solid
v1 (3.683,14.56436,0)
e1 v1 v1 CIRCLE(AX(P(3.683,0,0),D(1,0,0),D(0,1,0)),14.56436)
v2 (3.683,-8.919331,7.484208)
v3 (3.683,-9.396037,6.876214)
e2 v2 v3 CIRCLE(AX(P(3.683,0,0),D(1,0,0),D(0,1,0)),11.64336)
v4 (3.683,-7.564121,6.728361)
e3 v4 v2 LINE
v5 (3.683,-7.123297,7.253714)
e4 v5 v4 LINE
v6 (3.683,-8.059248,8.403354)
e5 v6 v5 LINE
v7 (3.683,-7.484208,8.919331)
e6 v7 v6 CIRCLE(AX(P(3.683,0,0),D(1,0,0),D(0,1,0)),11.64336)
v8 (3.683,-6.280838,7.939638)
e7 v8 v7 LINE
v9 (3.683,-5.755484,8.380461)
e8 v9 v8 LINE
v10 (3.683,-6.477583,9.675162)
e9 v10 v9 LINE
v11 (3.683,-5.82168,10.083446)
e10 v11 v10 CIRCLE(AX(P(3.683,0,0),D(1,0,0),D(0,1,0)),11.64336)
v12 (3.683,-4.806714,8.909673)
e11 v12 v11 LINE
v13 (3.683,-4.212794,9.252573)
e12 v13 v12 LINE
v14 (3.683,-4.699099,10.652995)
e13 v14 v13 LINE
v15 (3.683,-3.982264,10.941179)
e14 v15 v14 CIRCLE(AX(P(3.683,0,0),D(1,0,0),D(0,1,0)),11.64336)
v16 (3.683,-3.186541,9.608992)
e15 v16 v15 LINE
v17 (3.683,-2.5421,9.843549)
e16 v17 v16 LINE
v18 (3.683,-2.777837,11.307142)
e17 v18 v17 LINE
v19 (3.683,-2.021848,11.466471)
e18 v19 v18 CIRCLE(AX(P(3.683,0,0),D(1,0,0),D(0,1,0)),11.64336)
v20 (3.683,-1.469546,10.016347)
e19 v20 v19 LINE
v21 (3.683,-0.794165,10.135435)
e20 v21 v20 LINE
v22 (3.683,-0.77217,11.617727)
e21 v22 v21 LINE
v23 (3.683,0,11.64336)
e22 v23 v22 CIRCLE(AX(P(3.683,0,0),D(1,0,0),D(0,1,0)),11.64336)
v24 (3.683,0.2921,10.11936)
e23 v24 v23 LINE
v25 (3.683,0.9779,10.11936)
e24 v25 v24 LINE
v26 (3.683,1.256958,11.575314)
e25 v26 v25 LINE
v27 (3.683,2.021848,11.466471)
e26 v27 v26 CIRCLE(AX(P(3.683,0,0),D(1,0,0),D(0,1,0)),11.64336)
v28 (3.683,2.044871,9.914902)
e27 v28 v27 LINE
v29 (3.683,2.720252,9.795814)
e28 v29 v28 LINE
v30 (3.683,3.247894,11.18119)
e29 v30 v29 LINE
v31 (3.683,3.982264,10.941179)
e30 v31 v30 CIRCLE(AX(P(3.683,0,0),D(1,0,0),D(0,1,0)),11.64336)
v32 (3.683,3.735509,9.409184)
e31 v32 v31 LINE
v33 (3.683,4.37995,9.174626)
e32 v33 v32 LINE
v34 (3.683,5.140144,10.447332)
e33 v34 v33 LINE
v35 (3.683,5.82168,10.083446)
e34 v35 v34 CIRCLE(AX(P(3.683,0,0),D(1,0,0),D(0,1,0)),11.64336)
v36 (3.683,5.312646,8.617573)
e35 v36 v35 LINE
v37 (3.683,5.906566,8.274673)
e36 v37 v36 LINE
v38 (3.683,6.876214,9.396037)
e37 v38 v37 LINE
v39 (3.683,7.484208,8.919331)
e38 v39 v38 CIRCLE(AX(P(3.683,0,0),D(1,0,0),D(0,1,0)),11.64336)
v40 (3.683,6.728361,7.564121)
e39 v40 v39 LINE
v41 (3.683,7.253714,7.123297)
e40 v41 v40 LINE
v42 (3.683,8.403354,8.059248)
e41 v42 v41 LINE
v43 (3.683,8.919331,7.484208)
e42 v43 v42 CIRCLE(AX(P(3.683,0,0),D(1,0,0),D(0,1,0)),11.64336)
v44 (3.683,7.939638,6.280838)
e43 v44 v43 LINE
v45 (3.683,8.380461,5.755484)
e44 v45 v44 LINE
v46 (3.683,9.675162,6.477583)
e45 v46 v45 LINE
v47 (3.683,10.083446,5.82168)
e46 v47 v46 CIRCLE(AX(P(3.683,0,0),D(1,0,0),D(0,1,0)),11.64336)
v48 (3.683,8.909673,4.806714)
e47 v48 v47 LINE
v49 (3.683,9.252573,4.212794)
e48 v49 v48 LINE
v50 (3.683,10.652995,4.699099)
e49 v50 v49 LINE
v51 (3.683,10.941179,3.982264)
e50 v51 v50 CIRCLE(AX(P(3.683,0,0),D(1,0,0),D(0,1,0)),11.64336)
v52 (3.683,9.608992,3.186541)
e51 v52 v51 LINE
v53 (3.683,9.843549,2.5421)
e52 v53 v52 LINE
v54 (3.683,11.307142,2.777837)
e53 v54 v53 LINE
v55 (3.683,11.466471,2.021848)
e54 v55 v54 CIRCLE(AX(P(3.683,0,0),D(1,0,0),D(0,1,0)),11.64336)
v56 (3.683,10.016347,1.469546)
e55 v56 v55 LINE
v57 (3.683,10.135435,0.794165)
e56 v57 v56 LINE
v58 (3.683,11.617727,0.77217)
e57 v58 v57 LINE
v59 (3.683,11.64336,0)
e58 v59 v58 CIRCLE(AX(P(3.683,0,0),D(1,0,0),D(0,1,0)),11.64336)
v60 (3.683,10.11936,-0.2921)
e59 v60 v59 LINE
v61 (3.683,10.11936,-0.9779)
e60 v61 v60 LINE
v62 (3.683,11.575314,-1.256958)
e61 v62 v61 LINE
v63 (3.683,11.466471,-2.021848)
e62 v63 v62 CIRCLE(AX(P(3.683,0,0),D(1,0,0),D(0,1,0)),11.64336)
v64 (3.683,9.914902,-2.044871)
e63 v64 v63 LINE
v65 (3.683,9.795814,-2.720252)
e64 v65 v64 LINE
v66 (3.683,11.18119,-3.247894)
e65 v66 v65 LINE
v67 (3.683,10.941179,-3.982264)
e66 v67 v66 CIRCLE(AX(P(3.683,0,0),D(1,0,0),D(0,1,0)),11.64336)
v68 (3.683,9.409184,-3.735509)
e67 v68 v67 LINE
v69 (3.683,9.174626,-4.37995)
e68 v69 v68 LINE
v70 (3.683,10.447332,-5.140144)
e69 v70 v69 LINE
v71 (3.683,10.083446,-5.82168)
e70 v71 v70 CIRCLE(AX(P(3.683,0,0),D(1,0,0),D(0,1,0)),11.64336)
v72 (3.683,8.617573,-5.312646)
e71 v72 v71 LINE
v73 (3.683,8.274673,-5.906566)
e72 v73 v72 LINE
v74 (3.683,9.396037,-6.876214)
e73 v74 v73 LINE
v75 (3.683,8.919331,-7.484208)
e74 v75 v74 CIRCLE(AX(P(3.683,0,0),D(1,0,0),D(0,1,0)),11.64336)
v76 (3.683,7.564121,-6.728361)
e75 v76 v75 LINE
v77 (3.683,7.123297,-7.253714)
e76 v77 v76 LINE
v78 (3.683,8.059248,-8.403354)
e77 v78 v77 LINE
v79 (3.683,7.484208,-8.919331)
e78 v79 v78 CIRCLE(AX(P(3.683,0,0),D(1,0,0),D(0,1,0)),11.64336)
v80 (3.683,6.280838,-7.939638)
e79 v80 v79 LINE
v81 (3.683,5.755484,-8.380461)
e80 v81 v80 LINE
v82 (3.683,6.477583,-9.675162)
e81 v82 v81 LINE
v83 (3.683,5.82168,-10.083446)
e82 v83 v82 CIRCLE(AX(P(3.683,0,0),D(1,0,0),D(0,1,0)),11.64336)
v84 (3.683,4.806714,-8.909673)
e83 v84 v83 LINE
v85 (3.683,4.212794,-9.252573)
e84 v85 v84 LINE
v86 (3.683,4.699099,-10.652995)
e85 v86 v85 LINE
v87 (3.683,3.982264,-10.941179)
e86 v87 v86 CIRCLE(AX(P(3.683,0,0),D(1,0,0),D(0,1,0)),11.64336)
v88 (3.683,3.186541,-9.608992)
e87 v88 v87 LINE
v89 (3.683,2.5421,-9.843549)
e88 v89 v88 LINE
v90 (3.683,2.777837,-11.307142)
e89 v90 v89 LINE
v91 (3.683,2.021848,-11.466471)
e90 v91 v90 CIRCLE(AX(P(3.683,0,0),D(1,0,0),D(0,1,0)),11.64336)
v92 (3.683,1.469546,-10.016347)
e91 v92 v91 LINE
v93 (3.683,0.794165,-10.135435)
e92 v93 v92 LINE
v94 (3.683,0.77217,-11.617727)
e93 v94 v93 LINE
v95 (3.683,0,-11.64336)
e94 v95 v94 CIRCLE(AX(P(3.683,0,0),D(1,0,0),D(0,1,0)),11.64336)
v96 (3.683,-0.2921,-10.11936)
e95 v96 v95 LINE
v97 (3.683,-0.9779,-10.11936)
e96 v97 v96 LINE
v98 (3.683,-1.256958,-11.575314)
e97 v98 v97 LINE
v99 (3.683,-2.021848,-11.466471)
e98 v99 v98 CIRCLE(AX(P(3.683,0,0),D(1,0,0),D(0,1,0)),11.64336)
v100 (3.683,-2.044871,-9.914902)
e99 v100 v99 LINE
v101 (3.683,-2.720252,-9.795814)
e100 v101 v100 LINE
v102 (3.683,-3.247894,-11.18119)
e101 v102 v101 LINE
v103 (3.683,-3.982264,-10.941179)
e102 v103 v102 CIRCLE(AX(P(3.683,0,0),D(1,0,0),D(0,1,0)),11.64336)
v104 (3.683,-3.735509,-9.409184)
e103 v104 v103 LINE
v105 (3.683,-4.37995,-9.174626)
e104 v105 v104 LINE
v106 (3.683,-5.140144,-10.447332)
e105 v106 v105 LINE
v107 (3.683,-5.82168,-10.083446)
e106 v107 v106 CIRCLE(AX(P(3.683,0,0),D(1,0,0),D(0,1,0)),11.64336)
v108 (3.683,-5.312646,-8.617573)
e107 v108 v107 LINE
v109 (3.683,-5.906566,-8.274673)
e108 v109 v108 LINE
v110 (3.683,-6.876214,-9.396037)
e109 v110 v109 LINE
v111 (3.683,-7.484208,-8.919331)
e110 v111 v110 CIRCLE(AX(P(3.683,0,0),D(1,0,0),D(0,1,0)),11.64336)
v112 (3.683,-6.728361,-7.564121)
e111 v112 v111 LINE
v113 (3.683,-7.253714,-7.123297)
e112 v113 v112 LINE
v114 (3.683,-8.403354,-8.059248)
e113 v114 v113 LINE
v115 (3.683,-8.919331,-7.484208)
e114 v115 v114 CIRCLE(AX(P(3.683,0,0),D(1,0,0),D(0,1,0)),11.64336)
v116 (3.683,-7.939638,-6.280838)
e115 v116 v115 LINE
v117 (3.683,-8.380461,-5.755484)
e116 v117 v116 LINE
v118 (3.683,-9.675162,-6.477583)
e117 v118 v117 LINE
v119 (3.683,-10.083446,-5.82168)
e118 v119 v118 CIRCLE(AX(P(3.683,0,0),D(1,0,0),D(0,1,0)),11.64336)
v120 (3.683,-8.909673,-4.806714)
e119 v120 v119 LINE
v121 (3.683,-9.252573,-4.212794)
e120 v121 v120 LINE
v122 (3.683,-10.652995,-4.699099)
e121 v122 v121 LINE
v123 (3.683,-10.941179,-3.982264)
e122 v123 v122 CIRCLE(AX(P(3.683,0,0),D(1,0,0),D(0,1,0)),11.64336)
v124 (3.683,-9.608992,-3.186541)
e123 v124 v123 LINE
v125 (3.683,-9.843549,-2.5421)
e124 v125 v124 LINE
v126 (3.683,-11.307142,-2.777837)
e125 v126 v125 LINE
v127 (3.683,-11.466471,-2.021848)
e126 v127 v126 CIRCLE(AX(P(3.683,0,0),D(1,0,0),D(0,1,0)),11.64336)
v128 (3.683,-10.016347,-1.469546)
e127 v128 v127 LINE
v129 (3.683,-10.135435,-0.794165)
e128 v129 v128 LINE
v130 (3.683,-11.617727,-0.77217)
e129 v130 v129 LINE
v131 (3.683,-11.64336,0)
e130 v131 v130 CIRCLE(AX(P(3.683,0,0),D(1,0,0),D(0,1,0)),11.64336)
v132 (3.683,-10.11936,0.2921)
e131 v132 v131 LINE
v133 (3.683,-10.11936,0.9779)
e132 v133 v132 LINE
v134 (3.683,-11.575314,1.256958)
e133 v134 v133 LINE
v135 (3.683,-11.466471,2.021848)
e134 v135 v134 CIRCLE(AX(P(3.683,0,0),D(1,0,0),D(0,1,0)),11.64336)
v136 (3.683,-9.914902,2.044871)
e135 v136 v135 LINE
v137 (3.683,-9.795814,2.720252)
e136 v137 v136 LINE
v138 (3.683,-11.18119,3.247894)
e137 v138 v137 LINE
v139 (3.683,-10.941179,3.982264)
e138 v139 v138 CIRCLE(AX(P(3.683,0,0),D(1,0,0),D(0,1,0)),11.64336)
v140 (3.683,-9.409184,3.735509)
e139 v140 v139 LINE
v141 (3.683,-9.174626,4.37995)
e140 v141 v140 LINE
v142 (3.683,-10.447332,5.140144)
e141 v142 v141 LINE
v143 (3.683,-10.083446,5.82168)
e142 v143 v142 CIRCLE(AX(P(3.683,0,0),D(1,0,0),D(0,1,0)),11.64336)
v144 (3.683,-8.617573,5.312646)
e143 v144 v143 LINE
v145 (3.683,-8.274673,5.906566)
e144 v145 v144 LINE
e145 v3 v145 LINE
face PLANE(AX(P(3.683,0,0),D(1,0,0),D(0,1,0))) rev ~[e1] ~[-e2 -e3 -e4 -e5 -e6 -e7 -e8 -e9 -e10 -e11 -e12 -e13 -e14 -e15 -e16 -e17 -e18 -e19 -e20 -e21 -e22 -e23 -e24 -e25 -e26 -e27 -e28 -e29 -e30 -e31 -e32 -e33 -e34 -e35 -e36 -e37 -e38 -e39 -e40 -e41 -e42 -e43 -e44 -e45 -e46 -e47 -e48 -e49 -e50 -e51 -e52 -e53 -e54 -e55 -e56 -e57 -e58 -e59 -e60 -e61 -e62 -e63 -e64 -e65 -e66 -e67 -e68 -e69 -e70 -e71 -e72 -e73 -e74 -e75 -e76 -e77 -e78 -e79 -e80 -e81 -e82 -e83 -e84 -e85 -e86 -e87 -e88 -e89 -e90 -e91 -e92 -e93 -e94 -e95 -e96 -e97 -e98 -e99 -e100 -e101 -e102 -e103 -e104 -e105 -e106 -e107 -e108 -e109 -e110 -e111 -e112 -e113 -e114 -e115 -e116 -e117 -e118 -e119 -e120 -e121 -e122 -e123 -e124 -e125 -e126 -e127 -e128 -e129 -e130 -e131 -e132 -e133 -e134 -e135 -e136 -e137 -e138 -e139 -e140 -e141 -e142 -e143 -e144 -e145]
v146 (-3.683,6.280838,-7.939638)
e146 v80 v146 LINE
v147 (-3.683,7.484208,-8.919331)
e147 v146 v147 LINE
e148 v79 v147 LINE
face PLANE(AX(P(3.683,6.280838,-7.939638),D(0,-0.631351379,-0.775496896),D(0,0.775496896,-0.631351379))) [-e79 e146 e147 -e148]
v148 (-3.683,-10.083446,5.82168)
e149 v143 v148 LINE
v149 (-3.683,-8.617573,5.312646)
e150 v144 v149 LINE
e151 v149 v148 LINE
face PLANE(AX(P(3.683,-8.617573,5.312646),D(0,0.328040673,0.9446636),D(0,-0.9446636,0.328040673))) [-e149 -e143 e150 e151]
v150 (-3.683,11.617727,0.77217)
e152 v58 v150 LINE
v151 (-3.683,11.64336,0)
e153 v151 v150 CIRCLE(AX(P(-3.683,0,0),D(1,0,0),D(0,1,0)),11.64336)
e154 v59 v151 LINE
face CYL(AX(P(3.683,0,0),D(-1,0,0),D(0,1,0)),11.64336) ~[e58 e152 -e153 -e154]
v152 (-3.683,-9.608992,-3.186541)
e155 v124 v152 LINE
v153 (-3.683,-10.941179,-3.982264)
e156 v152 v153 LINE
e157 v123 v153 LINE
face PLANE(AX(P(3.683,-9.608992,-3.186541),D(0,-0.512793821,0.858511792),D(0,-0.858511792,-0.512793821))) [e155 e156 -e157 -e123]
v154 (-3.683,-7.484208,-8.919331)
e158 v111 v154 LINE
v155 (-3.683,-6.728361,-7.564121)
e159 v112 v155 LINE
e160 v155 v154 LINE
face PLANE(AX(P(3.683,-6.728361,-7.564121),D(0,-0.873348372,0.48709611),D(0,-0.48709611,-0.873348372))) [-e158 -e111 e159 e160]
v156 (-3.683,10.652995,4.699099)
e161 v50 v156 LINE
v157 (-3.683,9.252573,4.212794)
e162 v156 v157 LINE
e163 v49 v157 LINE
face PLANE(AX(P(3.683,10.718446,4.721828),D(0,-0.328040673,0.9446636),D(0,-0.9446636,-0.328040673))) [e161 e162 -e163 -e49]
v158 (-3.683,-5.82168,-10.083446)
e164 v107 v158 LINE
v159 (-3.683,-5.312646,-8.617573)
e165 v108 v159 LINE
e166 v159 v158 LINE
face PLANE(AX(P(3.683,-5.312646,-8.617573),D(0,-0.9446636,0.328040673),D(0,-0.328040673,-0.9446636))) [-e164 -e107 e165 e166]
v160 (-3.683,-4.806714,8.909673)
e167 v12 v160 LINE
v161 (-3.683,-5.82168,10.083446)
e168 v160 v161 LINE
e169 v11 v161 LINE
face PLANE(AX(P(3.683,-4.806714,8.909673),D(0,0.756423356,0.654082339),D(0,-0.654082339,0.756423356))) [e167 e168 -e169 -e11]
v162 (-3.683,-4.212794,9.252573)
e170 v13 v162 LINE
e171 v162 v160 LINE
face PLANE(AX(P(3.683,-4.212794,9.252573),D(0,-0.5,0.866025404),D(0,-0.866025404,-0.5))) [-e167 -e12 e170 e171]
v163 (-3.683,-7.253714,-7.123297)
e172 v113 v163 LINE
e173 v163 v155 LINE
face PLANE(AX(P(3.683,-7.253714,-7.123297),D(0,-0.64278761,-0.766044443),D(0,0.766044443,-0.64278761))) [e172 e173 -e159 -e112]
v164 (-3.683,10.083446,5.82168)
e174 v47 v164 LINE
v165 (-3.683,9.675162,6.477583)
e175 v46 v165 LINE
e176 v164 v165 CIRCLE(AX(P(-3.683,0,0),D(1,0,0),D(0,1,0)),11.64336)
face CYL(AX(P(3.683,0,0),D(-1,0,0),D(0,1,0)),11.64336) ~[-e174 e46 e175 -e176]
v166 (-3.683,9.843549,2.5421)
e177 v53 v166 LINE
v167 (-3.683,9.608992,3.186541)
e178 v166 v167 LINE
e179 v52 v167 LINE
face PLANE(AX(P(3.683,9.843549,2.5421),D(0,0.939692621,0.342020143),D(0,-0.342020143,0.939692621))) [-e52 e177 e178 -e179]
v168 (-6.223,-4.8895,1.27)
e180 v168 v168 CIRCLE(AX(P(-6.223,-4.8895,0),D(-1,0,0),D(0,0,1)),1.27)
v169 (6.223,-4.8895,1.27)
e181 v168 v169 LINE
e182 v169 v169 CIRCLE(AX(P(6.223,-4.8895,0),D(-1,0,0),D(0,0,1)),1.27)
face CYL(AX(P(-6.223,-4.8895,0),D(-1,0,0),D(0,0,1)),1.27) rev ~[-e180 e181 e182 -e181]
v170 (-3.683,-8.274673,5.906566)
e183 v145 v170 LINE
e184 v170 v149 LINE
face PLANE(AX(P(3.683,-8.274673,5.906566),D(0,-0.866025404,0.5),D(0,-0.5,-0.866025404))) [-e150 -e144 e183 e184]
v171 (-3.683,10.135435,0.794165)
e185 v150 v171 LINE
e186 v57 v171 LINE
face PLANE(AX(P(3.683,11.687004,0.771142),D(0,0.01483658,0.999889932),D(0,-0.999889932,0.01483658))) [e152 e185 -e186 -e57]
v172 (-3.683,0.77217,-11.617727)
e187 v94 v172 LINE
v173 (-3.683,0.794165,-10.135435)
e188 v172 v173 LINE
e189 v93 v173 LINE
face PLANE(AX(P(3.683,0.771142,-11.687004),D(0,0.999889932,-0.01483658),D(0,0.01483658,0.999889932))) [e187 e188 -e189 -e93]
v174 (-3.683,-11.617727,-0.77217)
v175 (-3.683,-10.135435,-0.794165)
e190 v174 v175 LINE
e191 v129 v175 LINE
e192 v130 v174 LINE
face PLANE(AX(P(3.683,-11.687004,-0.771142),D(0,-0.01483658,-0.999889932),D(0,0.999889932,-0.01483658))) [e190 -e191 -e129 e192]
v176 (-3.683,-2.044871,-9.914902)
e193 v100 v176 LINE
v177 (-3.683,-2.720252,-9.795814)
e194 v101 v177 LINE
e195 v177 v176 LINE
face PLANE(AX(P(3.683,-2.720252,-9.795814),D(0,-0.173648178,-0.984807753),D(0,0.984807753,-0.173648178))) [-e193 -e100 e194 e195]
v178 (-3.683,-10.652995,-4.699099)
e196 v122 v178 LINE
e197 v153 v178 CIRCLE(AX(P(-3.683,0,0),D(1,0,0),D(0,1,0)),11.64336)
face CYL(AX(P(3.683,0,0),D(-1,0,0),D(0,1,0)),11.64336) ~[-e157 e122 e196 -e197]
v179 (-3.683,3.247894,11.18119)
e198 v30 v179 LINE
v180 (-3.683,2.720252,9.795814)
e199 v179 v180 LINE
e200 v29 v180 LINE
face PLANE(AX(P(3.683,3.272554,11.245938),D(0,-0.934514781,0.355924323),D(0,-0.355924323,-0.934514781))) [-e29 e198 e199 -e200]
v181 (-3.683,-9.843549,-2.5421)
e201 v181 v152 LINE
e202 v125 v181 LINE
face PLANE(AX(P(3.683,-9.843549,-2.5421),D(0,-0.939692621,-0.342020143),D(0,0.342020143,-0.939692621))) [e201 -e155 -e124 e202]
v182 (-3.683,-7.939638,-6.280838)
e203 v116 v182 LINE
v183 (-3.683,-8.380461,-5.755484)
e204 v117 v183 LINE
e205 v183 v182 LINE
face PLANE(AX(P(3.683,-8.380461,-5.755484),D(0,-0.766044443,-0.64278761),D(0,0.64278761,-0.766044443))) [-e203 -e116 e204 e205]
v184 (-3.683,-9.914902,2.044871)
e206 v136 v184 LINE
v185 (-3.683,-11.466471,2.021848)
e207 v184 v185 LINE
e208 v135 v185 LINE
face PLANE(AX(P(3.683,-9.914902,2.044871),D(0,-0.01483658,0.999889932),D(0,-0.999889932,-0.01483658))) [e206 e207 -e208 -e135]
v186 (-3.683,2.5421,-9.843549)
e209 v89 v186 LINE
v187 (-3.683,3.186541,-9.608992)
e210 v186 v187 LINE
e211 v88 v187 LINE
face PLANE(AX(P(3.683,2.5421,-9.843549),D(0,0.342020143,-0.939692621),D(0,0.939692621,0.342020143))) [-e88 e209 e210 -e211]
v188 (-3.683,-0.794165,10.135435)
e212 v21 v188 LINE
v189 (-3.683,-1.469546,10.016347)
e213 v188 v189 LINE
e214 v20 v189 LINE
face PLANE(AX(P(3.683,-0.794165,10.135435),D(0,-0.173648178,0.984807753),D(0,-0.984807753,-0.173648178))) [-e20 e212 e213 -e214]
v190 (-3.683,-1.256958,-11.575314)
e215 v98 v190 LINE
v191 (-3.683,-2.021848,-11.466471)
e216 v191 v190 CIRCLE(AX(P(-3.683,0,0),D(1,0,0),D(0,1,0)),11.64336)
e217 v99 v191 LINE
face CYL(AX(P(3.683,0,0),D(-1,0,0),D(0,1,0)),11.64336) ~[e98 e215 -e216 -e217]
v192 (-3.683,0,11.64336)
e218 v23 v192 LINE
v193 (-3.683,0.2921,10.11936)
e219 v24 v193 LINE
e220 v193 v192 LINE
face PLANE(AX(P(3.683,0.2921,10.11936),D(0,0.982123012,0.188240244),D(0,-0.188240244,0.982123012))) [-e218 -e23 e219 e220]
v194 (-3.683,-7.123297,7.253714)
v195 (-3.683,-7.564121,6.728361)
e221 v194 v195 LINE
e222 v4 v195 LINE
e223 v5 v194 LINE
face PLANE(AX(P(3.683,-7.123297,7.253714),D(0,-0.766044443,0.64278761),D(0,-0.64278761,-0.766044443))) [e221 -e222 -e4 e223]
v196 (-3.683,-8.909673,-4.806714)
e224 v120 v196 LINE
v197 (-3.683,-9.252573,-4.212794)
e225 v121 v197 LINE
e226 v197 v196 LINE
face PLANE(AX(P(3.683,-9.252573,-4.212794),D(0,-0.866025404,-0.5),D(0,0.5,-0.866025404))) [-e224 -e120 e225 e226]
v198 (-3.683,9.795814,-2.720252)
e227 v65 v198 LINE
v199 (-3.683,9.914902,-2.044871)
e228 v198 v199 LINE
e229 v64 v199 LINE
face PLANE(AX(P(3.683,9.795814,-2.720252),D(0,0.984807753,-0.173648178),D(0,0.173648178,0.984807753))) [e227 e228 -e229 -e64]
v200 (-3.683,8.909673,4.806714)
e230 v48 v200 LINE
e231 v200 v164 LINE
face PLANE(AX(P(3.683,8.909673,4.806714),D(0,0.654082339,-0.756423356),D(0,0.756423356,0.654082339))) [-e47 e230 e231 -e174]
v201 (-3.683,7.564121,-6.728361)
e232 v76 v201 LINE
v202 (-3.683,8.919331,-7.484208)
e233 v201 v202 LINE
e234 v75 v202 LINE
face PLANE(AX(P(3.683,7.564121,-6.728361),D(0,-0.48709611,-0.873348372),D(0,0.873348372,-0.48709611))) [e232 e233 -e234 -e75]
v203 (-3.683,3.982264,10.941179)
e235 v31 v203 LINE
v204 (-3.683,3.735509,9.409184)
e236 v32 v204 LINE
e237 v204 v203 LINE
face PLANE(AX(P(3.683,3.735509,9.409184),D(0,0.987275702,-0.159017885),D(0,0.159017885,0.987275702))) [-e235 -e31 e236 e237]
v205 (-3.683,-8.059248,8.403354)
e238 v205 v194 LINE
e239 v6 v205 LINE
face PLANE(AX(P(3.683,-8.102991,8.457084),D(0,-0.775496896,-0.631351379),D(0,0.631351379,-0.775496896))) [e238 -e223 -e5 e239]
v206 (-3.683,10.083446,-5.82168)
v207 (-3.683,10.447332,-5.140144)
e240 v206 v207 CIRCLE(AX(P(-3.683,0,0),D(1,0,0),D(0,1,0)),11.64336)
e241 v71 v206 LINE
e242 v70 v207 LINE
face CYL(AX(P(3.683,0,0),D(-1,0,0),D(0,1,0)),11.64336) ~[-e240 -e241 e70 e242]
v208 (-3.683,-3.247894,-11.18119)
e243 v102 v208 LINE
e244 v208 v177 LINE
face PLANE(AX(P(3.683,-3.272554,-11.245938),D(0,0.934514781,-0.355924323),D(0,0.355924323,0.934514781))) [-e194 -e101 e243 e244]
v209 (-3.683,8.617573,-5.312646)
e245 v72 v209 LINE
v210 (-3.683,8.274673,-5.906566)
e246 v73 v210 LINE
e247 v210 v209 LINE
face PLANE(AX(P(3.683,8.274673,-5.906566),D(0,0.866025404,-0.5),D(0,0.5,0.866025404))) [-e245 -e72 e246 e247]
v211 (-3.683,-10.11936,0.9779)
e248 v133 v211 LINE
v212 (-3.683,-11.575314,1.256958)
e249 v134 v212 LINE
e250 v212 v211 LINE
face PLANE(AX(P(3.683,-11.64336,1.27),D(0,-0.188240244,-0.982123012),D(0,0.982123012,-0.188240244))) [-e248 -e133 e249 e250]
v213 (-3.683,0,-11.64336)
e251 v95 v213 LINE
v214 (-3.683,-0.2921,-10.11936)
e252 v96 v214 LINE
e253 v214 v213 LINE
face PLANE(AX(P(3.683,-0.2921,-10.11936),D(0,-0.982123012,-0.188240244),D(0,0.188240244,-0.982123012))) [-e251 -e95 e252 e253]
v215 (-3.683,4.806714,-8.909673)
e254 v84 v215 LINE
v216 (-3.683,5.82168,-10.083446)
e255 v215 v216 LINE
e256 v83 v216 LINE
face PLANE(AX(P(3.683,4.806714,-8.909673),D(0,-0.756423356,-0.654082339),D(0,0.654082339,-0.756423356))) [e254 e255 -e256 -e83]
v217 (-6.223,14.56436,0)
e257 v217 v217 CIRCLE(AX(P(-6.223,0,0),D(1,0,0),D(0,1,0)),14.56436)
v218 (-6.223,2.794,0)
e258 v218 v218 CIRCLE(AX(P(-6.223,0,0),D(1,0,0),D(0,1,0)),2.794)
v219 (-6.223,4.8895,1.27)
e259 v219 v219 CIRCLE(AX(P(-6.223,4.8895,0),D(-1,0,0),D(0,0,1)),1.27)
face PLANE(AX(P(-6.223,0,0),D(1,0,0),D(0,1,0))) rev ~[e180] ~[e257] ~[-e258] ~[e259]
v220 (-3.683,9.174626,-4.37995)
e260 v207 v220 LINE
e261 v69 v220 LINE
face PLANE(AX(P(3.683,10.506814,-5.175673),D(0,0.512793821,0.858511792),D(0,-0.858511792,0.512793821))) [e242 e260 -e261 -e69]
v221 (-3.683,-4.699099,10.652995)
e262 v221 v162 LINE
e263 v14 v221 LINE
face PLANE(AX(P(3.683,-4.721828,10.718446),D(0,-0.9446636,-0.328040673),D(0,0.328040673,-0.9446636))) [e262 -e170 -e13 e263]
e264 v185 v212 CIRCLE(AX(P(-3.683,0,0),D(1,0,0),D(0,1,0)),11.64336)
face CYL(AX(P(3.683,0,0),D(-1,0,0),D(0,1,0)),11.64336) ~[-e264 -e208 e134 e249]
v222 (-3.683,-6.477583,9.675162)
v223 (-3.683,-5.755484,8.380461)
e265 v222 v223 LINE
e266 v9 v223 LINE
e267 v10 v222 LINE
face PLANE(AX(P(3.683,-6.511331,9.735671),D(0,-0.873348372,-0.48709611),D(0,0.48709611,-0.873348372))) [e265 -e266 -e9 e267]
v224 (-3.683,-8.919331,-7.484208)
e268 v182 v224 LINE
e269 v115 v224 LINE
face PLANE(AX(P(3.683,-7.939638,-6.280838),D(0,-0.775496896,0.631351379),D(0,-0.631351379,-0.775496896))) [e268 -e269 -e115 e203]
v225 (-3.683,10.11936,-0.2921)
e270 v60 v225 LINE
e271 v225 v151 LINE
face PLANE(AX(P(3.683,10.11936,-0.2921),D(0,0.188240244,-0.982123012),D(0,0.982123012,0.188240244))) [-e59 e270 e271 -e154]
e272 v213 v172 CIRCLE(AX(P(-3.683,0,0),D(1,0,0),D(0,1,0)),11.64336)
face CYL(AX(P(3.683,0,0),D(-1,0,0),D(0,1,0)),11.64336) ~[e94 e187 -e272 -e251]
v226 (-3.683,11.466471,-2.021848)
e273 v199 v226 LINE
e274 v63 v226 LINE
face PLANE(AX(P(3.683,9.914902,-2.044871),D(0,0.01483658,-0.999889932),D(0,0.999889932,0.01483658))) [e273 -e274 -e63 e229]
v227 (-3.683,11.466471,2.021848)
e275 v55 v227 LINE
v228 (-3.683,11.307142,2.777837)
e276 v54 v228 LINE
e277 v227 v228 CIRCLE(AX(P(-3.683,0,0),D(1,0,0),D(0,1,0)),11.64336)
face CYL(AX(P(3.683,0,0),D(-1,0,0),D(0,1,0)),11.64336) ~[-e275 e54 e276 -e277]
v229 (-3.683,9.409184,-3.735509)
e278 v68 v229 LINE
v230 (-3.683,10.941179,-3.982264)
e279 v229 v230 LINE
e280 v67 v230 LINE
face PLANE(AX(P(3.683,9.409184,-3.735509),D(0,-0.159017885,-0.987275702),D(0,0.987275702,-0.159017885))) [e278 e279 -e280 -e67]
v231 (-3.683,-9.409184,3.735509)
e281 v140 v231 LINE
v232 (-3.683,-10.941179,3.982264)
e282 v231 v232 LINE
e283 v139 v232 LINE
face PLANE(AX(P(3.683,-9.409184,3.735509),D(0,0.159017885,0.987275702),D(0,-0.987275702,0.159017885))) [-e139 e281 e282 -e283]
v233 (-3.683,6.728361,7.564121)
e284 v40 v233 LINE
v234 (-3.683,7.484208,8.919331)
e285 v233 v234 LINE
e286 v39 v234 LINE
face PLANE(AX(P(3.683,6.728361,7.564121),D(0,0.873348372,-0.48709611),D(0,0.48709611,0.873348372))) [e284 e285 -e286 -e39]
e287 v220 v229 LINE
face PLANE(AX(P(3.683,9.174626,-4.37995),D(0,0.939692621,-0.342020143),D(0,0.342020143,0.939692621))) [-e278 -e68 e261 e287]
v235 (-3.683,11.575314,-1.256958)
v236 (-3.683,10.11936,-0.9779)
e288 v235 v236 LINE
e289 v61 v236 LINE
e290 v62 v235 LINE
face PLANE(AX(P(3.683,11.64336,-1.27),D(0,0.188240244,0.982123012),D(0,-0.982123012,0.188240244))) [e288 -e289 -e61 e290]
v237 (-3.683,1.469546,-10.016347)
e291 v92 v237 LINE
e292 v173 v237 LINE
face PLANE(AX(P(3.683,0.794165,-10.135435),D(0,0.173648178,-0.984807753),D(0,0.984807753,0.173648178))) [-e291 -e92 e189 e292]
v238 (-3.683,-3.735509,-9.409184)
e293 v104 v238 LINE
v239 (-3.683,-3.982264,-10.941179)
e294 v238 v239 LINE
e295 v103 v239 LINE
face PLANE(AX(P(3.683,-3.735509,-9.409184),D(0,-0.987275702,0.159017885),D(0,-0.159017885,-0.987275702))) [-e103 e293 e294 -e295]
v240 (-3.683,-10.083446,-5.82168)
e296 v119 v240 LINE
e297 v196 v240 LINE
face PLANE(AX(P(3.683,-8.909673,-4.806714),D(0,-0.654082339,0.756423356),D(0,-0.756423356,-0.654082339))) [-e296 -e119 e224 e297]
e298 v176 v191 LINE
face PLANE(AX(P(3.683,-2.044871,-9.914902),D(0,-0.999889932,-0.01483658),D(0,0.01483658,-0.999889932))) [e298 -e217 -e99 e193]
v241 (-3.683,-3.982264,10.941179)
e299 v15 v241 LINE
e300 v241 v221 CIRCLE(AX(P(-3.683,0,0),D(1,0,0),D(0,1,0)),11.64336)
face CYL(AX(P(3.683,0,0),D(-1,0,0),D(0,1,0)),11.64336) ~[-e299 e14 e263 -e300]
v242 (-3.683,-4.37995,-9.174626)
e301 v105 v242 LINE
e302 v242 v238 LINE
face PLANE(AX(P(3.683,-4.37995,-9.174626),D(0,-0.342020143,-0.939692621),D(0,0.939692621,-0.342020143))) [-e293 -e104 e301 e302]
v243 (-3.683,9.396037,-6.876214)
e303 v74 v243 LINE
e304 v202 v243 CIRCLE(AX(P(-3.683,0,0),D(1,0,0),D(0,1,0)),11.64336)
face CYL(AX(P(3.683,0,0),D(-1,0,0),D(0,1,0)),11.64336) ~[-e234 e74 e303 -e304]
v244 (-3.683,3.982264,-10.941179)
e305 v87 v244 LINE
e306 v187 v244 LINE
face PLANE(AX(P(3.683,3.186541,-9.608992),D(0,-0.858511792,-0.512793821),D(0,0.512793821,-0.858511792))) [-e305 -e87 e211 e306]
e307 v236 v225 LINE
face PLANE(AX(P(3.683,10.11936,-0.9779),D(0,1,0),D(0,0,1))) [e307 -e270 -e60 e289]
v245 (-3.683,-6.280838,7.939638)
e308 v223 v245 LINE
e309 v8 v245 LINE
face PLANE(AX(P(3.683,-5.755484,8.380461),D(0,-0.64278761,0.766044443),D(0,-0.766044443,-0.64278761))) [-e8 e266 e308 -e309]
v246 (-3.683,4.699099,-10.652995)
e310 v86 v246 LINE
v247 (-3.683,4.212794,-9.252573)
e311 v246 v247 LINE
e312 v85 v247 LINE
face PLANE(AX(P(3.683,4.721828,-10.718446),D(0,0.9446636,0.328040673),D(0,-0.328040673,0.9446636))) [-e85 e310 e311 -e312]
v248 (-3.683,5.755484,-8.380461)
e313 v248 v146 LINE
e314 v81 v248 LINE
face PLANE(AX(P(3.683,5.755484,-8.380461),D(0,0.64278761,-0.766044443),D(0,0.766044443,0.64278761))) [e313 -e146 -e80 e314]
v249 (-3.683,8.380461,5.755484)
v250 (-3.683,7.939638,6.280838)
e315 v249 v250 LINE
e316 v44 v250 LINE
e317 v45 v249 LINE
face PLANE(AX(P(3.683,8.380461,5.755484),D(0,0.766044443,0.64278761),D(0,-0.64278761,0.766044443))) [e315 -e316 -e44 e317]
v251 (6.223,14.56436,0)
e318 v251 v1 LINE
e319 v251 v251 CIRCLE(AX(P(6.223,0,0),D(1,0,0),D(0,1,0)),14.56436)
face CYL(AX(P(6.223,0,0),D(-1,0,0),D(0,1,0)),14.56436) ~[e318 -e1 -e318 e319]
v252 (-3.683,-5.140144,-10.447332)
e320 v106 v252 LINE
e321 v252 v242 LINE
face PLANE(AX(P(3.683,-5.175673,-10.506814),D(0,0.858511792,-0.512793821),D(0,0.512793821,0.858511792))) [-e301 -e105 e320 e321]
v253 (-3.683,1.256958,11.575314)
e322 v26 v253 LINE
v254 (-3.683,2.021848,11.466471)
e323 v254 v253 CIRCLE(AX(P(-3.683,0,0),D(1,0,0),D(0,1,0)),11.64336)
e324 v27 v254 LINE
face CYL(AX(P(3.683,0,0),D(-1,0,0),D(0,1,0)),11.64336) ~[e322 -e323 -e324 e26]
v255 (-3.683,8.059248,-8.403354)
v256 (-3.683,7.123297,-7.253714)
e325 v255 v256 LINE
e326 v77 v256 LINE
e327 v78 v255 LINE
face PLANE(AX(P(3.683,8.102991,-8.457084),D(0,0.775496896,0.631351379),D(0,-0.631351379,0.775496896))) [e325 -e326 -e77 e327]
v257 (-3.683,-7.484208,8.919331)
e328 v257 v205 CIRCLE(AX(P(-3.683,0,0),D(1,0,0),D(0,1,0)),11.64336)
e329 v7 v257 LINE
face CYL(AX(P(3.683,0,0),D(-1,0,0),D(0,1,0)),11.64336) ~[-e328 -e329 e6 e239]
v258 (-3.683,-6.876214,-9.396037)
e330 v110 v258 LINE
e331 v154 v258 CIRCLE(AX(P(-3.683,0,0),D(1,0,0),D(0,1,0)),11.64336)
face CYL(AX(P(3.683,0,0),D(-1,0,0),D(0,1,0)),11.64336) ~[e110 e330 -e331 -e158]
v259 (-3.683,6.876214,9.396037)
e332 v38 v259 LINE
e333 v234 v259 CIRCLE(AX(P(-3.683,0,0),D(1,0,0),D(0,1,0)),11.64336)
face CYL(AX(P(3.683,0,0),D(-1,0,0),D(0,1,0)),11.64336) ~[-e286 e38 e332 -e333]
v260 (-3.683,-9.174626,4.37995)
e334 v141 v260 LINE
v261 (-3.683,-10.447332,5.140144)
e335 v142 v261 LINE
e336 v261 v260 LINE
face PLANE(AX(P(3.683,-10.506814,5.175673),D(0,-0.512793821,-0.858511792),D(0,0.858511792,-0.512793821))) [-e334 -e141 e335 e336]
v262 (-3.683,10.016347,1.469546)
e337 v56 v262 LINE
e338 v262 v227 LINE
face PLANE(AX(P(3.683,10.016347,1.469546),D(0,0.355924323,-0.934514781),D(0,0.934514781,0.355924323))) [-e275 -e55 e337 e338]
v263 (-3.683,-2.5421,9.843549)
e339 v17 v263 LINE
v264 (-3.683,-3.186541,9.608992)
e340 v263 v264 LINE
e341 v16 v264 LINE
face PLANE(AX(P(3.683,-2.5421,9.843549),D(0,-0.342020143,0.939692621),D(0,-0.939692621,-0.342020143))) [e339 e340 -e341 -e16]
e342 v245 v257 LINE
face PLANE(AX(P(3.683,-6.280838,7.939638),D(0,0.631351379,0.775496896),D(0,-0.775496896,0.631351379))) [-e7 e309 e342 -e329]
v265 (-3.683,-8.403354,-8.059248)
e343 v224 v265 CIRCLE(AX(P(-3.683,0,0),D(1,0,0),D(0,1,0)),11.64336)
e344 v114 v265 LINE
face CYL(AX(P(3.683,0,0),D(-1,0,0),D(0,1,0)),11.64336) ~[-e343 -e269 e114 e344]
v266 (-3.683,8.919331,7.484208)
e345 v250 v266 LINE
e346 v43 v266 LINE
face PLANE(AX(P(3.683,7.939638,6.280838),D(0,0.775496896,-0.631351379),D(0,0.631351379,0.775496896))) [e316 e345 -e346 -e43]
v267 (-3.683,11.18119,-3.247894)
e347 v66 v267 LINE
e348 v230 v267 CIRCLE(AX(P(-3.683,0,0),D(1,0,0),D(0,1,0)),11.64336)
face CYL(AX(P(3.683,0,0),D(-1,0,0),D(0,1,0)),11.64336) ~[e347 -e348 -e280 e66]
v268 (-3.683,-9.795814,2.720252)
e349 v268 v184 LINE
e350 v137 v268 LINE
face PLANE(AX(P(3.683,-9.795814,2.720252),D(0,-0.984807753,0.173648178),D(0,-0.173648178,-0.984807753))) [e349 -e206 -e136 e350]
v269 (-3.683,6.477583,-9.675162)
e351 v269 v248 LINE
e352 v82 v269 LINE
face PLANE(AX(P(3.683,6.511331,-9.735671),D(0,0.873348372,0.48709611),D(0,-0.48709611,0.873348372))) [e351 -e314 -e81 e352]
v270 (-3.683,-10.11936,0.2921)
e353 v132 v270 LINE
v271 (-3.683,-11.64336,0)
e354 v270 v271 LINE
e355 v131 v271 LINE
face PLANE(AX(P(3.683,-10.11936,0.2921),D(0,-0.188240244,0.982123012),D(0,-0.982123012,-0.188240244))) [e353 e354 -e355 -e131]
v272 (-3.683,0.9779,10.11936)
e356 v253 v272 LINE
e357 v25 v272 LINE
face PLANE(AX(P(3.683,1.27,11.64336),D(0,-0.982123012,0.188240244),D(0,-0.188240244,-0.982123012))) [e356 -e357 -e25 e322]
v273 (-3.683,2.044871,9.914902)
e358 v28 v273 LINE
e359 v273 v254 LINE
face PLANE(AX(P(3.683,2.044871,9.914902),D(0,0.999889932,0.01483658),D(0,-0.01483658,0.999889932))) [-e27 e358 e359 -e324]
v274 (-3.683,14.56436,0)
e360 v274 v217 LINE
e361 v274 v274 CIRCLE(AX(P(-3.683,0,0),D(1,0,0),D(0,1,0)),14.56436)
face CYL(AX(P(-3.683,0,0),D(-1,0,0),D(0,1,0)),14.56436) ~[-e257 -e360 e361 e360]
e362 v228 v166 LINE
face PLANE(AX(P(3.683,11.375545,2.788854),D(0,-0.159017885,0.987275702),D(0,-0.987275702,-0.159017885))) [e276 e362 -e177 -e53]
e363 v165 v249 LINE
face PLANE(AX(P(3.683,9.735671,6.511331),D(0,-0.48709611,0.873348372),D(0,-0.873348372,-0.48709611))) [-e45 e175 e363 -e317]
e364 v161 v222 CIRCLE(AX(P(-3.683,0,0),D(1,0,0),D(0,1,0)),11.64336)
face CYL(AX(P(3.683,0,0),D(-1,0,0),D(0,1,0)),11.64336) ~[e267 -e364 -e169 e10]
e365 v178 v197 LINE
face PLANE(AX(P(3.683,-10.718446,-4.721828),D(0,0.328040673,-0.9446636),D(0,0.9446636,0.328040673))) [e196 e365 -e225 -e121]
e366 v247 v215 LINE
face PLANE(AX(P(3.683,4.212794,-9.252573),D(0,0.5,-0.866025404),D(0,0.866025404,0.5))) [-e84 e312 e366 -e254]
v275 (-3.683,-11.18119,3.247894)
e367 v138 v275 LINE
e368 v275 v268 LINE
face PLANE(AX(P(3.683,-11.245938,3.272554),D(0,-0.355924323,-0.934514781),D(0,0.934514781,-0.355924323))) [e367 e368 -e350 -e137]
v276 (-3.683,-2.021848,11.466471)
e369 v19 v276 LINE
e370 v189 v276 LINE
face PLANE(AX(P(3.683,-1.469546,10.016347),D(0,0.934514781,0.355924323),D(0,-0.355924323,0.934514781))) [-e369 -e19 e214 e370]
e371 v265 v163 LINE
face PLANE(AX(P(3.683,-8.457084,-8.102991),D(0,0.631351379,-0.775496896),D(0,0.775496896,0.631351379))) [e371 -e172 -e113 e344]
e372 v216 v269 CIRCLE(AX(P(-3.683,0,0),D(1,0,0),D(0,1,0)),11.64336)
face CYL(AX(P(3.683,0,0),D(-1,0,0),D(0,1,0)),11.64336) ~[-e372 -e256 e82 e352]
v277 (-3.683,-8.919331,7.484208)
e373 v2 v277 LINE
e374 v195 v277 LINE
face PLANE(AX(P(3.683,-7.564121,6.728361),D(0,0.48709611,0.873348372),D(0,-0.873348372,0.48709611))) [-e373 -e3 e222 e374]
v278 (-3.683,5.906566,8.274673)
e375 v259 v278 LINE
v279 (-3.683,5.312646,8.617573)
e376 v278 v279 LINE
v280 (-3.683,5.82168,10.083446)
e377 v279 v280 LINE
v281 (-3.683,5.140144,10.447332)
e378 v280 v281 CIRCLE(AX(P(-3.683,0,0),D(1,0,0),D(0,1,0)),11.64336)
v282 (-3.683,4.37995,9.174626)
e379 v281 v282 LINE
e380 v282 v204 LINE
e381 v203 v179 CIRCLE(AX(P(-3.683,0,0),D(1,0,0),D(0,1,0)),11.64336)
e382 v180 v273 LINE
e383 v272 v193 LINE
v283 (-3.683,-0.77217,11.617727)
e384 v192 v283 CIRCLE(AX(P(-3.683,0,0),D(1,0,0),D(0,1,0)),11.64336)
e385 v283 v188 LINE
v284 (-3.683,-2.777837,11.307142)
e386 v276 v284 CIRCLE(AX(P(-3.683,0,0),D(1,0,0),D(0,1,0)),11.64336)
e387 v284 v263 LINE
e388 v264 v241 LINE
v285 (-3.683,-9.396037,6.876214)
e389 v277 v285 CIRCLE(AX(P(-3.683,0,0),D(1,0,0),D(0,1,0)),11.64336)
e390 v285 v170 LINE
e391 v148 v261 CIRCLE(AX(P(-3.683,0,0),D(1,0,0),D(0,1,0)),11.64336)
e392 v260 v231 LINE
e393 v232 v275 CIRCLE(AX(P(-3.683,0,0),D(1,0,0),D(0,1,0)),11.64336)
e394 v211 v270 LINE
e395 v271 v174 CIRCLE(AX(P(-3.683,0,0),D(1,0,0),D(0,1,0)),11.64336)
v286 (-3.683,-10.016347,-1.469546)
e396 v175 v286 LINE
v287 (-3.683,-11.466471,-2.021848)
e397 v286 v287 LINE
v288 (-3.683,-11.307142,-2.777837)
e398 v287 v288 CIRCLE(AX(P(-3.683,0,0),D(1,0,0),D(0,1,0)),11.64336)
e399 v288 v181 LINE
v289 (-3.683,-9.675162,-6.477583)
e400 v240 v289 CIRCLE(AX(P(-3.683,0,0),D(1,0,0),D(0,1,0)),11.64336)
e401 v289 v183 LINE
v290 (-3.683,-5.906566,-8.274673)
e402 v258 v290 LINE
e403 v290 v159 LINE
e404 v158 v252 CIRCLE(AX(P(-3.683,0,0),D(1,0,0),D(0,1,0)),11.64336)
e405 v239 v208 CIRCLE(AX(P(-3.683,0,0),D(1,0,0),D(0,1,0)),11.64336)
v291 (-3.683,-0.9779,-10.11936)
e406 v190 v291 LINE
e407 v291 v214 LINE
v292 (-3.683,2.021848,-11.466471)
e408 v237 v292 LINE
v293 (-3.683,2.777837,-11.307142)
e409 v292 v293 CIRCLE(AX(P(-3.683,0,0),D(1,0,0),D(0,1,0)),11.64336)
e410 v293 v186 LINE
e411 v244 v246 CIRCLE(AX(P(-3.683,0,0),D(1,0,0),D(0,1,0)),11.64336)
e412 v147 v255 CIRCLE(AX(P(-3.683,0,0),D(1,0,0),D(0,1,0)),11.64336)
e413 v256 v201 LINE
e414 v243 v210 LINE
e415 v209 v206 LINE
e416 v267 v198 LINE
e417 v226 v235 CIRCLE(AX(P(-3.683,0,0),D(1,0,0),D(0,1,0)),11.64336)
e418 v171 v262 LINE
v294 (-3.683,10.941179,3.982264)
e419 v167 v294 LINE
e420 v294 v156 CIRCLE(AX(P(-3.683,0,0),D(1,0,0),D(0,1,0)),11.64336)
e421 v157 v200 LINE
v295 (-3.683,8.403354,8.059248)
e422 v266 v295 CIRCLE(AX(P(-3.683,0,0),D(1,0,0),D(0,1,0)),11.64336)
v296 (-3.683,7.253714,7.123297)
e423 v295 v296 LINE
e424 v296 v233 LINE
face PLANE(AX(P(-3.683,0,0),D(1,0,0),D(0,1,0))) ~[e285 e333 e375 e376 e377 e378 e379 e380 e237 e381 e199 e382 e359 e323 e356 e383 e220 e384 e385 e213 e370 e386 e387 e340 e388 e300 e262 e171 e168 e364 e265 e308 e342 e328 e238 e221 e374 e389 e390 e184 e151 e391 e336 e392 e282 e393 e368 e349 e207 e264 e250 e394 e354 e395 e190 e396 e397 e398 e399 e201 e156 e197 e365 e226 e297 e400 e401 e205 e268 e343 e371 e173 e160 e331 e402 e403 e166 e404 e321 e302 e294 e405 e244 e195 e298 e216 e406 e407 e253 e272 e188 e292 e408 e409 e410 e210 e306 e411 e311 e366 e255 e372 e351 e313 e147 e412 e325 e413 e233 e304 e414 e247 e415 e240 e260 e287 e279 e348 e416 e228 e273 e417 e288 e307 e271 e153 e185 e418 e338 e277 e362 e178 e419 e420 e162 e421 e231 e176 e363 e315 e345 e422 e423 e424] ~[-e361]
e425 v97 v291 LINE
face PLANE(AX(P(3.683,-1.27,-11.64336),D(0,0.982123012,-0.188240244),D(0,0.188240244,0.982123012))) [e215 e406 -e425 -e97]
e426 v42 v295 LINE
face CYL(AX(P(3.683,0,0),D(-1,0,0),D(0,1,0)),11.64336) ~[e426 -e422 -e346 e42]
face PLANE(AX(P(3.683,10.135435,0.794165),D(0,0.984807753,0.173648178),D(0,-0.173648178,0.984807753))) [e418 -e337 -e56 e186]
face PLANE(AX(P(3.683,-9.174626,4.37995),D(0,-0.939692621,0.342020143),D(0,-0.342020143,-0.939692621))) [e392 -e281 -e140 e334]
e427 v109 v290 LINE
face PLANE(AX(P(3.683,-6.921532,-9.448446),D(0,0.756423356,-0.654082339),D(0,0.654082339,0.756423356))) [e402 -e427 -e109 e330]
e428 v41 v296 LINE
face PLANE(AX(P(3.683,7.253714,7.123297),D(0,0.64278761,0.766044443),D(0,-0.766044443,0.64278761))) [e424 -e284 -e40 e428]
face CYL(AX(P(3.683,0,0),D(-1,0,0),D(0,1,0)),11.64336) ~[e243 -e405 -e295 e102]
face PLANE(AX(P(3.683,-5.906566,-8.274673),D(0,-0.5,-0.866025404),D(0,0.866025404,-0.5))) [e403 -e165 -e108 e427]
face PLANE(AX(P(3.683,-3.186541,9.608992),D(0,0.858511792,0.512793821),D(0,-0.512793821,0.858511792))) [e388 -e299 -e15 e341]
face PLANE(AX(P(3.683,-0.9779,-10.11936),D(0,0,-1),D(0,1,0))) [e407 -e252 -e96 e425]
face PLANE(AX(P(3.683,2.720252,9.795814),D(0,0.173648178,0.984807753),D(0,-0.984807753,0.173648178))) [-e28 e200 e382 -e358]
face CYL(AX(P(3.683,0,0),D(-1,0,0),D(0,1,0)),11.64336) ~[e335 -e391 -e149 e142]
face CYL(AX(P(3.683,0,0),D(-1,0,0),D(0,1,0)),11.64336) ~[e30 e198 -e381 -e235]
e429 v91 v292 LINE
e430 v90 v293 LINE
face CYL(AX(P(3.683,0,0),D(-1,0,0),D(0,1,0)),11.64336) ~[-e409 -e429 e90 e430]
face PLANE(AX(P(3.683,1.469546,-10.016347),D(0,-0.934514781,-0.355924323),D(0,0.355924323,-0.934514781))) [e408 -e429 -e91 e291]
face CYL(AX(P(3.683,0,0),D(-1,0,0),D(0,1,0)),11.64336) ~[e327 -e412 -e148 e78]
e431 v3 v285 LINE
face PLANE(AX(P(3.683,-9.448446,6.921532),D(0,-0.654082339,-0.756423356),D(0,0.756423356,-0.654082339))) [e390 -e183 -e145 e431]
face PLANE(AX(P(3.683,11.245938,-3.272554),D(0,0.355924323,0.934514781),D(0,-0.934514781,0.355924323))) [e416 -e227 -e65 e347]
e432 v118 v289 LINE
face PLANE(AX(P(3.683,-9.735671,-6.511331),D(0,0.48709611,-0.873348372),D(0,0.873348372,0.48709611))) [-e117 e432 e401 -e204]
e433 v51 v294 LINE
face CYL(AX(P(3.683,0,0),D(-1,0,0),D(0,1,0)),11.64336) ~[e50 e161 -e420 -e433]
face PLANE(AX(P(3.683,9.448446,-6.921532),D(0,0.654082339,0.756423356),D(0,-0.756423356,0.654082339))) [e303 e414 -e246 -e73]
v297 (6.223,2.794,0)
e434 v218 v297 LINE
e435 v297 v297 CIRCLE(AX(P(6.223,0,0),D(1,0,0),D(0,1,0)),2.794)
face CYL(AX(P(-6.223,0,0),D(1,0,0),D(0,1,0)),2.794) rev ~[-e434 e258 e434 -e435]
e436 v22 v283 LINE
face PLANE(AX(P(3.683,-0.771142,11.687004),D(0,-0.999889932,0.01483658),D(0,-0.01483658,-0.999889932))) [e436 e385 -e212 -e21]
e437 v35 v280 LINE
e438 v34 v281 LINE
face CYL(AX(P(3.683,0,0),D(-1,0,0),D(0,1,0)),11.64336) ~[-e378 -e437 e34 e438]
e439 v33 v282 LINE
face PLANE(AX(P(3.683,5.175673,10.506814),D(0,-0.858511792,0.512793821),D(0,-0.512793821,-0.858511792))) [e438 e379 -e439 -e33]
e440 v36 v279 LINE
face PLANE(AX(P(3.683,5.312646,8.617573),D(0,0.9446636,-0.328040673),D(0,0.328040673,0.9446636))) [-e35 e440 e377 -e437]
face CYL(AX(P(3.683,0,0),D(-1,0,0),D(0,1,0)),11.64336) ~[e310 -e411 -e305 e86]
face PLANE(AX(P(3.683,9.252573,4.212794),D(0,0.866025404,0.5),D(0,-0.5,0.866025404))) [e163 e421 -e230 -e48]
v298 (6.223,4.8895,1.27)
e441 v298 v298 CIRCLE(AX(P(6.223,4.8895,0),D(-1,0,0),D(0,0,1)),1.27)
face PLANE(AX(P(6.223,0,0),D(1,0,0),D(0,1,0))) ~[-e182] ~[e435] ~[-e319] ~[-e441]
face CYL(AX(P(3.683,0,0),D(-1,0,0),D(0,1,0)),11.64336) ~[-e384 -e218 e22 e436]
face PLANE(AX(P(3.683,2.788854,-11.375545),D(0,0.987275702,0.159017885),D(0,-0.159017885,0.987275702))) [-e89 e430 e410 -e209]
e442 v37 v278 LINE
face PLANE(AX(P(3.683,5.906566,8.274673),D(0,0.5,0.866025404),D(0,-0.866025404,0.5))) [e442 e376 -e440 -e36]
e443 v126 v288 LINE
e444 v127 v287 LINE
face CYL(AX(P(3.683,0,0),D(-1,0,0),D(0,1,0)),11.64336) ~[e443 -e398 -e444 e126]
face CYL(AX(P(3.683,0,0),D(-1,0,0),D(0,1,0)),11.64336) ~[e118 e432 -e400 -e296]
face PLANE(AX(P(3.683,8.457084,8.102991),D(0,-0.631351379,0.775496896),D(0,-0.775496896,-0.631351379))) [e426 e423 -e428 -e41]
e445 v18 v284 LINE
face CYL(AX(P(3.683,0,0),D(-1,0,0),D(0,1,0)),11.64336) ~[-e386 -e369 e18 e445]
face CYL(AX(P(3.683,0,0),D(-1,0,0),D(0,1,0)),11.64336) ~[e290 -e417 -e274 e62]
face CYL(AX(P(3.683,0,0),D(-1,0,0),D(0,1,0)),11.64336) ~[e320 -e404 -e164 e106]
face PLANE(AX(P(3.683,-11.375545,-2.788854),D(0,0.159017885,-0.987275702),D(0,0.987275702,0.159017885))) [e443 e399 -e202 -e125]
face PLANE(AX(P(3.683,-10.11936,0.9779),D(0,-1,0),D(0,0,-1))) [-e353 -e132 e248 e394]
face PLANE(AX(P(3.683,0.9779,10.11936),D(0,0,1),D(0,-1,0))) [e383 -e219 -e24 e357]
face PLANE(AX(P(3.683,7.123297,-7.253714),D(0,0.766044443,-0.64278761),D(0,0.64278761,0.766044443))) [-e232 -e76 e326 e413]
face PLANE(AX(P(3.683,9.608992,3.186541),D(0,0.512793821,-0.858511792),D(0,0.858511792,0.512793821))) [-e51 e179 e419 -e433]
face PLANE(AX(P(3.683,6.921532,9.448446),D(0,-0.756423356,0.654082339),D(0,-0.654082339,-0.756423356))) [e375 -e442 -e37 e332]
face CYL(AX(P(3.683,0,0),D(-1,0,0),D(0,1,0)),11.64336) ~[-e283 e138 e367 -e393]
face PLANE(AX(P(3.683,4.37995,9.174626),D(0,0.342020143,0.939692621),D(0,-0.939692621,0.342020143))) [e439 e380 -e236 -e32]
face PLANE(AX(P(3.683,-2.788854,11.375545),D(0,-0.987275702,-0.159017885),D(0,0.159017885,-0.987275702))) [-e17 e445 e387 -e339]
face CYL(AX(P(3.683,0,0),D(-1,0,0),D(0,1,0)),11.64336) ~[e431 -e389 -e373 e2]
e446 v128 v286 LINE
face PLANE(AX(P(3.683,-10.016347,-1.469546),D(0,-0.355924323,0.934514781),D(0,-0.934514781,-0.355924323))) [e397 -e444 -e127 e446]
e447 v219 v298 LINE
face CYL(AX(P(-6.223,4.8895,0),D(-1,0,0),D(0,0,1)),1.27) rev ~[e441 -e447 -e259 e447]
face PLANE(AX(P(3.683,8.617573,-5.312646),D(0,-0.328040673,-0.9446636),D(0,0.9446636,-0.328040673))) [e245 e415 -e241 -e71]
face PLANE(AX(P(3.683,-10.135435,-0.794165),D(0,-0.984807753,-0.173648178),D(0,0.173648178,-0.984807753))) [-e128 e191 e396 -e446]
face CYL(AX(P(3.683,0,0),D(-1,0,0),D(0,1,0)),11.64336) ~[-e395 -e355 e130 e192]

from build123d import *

# Parameters (mm, degrees)
CUT_EXTRUDE1_DEPTH = 7.366
CIRPATTERN1_COUNT  = 36
SKETCH5_R          = 1.27
CUT_EXTRUDE2_DEPTH = 22.86


with BuildPart() as part:
    # Sketch2 → Revolve1 (revolve)
    with BuildSketch(Plane.XY):
        Polygon((-6.223, 2.794), (6.223, 2.794), (6.223, 14.56436), (3.683, 14.56436), (3.683, 11.64336), (-3.683, 11.64336), (-3.683, 14.56436), (-6.223, 14.56436), align=None)
    revolve(axis=Axis((-20.14780731, 0, 0), (1, 0, 0)))

    # Sketch3 → Cut-Extrude1 (cut)
    with BuildSketch(Plane.ZY.offset(-3.683)):
        Polygon((-1.27, 11.64336), (-0.9779, 10.11936), (-0.2921, 10.11936), (0, 11.64336), align=None)
    cut_extrude1 = extrude(amount=CUT_EXTRUDE1_DEPTH, mode=Mode.SUBTRACT)

    # CirPattern1: Cut-Extrude1 ×36 about axis
    cirpattern1_axis = Axis((0, 0, 0), (1, 0, 0))
    for i in range(1, CIRPATTERN1_COUNT):
        add(cut_extrude1.rotate(cirpattern1_axis, i * 360 / CIRPATTERN1_COUNT), mode=Mode.SUBTRACT)

    # Sketch5 → Cut-Extrude2 (cut)
    with BuildSketch(Plane.ZY.offset(6.223)):
        with Locations((0, 4.8895)):
            Circle(SKETCH5_R)
        with Locations((0, -4.8895)):
            Circle(SKETCH5_R)
    extrude(amount=-CUT_EXTRUDE2_DEPTH, mode=Mode.SUBTRACT)


solid = part.part
